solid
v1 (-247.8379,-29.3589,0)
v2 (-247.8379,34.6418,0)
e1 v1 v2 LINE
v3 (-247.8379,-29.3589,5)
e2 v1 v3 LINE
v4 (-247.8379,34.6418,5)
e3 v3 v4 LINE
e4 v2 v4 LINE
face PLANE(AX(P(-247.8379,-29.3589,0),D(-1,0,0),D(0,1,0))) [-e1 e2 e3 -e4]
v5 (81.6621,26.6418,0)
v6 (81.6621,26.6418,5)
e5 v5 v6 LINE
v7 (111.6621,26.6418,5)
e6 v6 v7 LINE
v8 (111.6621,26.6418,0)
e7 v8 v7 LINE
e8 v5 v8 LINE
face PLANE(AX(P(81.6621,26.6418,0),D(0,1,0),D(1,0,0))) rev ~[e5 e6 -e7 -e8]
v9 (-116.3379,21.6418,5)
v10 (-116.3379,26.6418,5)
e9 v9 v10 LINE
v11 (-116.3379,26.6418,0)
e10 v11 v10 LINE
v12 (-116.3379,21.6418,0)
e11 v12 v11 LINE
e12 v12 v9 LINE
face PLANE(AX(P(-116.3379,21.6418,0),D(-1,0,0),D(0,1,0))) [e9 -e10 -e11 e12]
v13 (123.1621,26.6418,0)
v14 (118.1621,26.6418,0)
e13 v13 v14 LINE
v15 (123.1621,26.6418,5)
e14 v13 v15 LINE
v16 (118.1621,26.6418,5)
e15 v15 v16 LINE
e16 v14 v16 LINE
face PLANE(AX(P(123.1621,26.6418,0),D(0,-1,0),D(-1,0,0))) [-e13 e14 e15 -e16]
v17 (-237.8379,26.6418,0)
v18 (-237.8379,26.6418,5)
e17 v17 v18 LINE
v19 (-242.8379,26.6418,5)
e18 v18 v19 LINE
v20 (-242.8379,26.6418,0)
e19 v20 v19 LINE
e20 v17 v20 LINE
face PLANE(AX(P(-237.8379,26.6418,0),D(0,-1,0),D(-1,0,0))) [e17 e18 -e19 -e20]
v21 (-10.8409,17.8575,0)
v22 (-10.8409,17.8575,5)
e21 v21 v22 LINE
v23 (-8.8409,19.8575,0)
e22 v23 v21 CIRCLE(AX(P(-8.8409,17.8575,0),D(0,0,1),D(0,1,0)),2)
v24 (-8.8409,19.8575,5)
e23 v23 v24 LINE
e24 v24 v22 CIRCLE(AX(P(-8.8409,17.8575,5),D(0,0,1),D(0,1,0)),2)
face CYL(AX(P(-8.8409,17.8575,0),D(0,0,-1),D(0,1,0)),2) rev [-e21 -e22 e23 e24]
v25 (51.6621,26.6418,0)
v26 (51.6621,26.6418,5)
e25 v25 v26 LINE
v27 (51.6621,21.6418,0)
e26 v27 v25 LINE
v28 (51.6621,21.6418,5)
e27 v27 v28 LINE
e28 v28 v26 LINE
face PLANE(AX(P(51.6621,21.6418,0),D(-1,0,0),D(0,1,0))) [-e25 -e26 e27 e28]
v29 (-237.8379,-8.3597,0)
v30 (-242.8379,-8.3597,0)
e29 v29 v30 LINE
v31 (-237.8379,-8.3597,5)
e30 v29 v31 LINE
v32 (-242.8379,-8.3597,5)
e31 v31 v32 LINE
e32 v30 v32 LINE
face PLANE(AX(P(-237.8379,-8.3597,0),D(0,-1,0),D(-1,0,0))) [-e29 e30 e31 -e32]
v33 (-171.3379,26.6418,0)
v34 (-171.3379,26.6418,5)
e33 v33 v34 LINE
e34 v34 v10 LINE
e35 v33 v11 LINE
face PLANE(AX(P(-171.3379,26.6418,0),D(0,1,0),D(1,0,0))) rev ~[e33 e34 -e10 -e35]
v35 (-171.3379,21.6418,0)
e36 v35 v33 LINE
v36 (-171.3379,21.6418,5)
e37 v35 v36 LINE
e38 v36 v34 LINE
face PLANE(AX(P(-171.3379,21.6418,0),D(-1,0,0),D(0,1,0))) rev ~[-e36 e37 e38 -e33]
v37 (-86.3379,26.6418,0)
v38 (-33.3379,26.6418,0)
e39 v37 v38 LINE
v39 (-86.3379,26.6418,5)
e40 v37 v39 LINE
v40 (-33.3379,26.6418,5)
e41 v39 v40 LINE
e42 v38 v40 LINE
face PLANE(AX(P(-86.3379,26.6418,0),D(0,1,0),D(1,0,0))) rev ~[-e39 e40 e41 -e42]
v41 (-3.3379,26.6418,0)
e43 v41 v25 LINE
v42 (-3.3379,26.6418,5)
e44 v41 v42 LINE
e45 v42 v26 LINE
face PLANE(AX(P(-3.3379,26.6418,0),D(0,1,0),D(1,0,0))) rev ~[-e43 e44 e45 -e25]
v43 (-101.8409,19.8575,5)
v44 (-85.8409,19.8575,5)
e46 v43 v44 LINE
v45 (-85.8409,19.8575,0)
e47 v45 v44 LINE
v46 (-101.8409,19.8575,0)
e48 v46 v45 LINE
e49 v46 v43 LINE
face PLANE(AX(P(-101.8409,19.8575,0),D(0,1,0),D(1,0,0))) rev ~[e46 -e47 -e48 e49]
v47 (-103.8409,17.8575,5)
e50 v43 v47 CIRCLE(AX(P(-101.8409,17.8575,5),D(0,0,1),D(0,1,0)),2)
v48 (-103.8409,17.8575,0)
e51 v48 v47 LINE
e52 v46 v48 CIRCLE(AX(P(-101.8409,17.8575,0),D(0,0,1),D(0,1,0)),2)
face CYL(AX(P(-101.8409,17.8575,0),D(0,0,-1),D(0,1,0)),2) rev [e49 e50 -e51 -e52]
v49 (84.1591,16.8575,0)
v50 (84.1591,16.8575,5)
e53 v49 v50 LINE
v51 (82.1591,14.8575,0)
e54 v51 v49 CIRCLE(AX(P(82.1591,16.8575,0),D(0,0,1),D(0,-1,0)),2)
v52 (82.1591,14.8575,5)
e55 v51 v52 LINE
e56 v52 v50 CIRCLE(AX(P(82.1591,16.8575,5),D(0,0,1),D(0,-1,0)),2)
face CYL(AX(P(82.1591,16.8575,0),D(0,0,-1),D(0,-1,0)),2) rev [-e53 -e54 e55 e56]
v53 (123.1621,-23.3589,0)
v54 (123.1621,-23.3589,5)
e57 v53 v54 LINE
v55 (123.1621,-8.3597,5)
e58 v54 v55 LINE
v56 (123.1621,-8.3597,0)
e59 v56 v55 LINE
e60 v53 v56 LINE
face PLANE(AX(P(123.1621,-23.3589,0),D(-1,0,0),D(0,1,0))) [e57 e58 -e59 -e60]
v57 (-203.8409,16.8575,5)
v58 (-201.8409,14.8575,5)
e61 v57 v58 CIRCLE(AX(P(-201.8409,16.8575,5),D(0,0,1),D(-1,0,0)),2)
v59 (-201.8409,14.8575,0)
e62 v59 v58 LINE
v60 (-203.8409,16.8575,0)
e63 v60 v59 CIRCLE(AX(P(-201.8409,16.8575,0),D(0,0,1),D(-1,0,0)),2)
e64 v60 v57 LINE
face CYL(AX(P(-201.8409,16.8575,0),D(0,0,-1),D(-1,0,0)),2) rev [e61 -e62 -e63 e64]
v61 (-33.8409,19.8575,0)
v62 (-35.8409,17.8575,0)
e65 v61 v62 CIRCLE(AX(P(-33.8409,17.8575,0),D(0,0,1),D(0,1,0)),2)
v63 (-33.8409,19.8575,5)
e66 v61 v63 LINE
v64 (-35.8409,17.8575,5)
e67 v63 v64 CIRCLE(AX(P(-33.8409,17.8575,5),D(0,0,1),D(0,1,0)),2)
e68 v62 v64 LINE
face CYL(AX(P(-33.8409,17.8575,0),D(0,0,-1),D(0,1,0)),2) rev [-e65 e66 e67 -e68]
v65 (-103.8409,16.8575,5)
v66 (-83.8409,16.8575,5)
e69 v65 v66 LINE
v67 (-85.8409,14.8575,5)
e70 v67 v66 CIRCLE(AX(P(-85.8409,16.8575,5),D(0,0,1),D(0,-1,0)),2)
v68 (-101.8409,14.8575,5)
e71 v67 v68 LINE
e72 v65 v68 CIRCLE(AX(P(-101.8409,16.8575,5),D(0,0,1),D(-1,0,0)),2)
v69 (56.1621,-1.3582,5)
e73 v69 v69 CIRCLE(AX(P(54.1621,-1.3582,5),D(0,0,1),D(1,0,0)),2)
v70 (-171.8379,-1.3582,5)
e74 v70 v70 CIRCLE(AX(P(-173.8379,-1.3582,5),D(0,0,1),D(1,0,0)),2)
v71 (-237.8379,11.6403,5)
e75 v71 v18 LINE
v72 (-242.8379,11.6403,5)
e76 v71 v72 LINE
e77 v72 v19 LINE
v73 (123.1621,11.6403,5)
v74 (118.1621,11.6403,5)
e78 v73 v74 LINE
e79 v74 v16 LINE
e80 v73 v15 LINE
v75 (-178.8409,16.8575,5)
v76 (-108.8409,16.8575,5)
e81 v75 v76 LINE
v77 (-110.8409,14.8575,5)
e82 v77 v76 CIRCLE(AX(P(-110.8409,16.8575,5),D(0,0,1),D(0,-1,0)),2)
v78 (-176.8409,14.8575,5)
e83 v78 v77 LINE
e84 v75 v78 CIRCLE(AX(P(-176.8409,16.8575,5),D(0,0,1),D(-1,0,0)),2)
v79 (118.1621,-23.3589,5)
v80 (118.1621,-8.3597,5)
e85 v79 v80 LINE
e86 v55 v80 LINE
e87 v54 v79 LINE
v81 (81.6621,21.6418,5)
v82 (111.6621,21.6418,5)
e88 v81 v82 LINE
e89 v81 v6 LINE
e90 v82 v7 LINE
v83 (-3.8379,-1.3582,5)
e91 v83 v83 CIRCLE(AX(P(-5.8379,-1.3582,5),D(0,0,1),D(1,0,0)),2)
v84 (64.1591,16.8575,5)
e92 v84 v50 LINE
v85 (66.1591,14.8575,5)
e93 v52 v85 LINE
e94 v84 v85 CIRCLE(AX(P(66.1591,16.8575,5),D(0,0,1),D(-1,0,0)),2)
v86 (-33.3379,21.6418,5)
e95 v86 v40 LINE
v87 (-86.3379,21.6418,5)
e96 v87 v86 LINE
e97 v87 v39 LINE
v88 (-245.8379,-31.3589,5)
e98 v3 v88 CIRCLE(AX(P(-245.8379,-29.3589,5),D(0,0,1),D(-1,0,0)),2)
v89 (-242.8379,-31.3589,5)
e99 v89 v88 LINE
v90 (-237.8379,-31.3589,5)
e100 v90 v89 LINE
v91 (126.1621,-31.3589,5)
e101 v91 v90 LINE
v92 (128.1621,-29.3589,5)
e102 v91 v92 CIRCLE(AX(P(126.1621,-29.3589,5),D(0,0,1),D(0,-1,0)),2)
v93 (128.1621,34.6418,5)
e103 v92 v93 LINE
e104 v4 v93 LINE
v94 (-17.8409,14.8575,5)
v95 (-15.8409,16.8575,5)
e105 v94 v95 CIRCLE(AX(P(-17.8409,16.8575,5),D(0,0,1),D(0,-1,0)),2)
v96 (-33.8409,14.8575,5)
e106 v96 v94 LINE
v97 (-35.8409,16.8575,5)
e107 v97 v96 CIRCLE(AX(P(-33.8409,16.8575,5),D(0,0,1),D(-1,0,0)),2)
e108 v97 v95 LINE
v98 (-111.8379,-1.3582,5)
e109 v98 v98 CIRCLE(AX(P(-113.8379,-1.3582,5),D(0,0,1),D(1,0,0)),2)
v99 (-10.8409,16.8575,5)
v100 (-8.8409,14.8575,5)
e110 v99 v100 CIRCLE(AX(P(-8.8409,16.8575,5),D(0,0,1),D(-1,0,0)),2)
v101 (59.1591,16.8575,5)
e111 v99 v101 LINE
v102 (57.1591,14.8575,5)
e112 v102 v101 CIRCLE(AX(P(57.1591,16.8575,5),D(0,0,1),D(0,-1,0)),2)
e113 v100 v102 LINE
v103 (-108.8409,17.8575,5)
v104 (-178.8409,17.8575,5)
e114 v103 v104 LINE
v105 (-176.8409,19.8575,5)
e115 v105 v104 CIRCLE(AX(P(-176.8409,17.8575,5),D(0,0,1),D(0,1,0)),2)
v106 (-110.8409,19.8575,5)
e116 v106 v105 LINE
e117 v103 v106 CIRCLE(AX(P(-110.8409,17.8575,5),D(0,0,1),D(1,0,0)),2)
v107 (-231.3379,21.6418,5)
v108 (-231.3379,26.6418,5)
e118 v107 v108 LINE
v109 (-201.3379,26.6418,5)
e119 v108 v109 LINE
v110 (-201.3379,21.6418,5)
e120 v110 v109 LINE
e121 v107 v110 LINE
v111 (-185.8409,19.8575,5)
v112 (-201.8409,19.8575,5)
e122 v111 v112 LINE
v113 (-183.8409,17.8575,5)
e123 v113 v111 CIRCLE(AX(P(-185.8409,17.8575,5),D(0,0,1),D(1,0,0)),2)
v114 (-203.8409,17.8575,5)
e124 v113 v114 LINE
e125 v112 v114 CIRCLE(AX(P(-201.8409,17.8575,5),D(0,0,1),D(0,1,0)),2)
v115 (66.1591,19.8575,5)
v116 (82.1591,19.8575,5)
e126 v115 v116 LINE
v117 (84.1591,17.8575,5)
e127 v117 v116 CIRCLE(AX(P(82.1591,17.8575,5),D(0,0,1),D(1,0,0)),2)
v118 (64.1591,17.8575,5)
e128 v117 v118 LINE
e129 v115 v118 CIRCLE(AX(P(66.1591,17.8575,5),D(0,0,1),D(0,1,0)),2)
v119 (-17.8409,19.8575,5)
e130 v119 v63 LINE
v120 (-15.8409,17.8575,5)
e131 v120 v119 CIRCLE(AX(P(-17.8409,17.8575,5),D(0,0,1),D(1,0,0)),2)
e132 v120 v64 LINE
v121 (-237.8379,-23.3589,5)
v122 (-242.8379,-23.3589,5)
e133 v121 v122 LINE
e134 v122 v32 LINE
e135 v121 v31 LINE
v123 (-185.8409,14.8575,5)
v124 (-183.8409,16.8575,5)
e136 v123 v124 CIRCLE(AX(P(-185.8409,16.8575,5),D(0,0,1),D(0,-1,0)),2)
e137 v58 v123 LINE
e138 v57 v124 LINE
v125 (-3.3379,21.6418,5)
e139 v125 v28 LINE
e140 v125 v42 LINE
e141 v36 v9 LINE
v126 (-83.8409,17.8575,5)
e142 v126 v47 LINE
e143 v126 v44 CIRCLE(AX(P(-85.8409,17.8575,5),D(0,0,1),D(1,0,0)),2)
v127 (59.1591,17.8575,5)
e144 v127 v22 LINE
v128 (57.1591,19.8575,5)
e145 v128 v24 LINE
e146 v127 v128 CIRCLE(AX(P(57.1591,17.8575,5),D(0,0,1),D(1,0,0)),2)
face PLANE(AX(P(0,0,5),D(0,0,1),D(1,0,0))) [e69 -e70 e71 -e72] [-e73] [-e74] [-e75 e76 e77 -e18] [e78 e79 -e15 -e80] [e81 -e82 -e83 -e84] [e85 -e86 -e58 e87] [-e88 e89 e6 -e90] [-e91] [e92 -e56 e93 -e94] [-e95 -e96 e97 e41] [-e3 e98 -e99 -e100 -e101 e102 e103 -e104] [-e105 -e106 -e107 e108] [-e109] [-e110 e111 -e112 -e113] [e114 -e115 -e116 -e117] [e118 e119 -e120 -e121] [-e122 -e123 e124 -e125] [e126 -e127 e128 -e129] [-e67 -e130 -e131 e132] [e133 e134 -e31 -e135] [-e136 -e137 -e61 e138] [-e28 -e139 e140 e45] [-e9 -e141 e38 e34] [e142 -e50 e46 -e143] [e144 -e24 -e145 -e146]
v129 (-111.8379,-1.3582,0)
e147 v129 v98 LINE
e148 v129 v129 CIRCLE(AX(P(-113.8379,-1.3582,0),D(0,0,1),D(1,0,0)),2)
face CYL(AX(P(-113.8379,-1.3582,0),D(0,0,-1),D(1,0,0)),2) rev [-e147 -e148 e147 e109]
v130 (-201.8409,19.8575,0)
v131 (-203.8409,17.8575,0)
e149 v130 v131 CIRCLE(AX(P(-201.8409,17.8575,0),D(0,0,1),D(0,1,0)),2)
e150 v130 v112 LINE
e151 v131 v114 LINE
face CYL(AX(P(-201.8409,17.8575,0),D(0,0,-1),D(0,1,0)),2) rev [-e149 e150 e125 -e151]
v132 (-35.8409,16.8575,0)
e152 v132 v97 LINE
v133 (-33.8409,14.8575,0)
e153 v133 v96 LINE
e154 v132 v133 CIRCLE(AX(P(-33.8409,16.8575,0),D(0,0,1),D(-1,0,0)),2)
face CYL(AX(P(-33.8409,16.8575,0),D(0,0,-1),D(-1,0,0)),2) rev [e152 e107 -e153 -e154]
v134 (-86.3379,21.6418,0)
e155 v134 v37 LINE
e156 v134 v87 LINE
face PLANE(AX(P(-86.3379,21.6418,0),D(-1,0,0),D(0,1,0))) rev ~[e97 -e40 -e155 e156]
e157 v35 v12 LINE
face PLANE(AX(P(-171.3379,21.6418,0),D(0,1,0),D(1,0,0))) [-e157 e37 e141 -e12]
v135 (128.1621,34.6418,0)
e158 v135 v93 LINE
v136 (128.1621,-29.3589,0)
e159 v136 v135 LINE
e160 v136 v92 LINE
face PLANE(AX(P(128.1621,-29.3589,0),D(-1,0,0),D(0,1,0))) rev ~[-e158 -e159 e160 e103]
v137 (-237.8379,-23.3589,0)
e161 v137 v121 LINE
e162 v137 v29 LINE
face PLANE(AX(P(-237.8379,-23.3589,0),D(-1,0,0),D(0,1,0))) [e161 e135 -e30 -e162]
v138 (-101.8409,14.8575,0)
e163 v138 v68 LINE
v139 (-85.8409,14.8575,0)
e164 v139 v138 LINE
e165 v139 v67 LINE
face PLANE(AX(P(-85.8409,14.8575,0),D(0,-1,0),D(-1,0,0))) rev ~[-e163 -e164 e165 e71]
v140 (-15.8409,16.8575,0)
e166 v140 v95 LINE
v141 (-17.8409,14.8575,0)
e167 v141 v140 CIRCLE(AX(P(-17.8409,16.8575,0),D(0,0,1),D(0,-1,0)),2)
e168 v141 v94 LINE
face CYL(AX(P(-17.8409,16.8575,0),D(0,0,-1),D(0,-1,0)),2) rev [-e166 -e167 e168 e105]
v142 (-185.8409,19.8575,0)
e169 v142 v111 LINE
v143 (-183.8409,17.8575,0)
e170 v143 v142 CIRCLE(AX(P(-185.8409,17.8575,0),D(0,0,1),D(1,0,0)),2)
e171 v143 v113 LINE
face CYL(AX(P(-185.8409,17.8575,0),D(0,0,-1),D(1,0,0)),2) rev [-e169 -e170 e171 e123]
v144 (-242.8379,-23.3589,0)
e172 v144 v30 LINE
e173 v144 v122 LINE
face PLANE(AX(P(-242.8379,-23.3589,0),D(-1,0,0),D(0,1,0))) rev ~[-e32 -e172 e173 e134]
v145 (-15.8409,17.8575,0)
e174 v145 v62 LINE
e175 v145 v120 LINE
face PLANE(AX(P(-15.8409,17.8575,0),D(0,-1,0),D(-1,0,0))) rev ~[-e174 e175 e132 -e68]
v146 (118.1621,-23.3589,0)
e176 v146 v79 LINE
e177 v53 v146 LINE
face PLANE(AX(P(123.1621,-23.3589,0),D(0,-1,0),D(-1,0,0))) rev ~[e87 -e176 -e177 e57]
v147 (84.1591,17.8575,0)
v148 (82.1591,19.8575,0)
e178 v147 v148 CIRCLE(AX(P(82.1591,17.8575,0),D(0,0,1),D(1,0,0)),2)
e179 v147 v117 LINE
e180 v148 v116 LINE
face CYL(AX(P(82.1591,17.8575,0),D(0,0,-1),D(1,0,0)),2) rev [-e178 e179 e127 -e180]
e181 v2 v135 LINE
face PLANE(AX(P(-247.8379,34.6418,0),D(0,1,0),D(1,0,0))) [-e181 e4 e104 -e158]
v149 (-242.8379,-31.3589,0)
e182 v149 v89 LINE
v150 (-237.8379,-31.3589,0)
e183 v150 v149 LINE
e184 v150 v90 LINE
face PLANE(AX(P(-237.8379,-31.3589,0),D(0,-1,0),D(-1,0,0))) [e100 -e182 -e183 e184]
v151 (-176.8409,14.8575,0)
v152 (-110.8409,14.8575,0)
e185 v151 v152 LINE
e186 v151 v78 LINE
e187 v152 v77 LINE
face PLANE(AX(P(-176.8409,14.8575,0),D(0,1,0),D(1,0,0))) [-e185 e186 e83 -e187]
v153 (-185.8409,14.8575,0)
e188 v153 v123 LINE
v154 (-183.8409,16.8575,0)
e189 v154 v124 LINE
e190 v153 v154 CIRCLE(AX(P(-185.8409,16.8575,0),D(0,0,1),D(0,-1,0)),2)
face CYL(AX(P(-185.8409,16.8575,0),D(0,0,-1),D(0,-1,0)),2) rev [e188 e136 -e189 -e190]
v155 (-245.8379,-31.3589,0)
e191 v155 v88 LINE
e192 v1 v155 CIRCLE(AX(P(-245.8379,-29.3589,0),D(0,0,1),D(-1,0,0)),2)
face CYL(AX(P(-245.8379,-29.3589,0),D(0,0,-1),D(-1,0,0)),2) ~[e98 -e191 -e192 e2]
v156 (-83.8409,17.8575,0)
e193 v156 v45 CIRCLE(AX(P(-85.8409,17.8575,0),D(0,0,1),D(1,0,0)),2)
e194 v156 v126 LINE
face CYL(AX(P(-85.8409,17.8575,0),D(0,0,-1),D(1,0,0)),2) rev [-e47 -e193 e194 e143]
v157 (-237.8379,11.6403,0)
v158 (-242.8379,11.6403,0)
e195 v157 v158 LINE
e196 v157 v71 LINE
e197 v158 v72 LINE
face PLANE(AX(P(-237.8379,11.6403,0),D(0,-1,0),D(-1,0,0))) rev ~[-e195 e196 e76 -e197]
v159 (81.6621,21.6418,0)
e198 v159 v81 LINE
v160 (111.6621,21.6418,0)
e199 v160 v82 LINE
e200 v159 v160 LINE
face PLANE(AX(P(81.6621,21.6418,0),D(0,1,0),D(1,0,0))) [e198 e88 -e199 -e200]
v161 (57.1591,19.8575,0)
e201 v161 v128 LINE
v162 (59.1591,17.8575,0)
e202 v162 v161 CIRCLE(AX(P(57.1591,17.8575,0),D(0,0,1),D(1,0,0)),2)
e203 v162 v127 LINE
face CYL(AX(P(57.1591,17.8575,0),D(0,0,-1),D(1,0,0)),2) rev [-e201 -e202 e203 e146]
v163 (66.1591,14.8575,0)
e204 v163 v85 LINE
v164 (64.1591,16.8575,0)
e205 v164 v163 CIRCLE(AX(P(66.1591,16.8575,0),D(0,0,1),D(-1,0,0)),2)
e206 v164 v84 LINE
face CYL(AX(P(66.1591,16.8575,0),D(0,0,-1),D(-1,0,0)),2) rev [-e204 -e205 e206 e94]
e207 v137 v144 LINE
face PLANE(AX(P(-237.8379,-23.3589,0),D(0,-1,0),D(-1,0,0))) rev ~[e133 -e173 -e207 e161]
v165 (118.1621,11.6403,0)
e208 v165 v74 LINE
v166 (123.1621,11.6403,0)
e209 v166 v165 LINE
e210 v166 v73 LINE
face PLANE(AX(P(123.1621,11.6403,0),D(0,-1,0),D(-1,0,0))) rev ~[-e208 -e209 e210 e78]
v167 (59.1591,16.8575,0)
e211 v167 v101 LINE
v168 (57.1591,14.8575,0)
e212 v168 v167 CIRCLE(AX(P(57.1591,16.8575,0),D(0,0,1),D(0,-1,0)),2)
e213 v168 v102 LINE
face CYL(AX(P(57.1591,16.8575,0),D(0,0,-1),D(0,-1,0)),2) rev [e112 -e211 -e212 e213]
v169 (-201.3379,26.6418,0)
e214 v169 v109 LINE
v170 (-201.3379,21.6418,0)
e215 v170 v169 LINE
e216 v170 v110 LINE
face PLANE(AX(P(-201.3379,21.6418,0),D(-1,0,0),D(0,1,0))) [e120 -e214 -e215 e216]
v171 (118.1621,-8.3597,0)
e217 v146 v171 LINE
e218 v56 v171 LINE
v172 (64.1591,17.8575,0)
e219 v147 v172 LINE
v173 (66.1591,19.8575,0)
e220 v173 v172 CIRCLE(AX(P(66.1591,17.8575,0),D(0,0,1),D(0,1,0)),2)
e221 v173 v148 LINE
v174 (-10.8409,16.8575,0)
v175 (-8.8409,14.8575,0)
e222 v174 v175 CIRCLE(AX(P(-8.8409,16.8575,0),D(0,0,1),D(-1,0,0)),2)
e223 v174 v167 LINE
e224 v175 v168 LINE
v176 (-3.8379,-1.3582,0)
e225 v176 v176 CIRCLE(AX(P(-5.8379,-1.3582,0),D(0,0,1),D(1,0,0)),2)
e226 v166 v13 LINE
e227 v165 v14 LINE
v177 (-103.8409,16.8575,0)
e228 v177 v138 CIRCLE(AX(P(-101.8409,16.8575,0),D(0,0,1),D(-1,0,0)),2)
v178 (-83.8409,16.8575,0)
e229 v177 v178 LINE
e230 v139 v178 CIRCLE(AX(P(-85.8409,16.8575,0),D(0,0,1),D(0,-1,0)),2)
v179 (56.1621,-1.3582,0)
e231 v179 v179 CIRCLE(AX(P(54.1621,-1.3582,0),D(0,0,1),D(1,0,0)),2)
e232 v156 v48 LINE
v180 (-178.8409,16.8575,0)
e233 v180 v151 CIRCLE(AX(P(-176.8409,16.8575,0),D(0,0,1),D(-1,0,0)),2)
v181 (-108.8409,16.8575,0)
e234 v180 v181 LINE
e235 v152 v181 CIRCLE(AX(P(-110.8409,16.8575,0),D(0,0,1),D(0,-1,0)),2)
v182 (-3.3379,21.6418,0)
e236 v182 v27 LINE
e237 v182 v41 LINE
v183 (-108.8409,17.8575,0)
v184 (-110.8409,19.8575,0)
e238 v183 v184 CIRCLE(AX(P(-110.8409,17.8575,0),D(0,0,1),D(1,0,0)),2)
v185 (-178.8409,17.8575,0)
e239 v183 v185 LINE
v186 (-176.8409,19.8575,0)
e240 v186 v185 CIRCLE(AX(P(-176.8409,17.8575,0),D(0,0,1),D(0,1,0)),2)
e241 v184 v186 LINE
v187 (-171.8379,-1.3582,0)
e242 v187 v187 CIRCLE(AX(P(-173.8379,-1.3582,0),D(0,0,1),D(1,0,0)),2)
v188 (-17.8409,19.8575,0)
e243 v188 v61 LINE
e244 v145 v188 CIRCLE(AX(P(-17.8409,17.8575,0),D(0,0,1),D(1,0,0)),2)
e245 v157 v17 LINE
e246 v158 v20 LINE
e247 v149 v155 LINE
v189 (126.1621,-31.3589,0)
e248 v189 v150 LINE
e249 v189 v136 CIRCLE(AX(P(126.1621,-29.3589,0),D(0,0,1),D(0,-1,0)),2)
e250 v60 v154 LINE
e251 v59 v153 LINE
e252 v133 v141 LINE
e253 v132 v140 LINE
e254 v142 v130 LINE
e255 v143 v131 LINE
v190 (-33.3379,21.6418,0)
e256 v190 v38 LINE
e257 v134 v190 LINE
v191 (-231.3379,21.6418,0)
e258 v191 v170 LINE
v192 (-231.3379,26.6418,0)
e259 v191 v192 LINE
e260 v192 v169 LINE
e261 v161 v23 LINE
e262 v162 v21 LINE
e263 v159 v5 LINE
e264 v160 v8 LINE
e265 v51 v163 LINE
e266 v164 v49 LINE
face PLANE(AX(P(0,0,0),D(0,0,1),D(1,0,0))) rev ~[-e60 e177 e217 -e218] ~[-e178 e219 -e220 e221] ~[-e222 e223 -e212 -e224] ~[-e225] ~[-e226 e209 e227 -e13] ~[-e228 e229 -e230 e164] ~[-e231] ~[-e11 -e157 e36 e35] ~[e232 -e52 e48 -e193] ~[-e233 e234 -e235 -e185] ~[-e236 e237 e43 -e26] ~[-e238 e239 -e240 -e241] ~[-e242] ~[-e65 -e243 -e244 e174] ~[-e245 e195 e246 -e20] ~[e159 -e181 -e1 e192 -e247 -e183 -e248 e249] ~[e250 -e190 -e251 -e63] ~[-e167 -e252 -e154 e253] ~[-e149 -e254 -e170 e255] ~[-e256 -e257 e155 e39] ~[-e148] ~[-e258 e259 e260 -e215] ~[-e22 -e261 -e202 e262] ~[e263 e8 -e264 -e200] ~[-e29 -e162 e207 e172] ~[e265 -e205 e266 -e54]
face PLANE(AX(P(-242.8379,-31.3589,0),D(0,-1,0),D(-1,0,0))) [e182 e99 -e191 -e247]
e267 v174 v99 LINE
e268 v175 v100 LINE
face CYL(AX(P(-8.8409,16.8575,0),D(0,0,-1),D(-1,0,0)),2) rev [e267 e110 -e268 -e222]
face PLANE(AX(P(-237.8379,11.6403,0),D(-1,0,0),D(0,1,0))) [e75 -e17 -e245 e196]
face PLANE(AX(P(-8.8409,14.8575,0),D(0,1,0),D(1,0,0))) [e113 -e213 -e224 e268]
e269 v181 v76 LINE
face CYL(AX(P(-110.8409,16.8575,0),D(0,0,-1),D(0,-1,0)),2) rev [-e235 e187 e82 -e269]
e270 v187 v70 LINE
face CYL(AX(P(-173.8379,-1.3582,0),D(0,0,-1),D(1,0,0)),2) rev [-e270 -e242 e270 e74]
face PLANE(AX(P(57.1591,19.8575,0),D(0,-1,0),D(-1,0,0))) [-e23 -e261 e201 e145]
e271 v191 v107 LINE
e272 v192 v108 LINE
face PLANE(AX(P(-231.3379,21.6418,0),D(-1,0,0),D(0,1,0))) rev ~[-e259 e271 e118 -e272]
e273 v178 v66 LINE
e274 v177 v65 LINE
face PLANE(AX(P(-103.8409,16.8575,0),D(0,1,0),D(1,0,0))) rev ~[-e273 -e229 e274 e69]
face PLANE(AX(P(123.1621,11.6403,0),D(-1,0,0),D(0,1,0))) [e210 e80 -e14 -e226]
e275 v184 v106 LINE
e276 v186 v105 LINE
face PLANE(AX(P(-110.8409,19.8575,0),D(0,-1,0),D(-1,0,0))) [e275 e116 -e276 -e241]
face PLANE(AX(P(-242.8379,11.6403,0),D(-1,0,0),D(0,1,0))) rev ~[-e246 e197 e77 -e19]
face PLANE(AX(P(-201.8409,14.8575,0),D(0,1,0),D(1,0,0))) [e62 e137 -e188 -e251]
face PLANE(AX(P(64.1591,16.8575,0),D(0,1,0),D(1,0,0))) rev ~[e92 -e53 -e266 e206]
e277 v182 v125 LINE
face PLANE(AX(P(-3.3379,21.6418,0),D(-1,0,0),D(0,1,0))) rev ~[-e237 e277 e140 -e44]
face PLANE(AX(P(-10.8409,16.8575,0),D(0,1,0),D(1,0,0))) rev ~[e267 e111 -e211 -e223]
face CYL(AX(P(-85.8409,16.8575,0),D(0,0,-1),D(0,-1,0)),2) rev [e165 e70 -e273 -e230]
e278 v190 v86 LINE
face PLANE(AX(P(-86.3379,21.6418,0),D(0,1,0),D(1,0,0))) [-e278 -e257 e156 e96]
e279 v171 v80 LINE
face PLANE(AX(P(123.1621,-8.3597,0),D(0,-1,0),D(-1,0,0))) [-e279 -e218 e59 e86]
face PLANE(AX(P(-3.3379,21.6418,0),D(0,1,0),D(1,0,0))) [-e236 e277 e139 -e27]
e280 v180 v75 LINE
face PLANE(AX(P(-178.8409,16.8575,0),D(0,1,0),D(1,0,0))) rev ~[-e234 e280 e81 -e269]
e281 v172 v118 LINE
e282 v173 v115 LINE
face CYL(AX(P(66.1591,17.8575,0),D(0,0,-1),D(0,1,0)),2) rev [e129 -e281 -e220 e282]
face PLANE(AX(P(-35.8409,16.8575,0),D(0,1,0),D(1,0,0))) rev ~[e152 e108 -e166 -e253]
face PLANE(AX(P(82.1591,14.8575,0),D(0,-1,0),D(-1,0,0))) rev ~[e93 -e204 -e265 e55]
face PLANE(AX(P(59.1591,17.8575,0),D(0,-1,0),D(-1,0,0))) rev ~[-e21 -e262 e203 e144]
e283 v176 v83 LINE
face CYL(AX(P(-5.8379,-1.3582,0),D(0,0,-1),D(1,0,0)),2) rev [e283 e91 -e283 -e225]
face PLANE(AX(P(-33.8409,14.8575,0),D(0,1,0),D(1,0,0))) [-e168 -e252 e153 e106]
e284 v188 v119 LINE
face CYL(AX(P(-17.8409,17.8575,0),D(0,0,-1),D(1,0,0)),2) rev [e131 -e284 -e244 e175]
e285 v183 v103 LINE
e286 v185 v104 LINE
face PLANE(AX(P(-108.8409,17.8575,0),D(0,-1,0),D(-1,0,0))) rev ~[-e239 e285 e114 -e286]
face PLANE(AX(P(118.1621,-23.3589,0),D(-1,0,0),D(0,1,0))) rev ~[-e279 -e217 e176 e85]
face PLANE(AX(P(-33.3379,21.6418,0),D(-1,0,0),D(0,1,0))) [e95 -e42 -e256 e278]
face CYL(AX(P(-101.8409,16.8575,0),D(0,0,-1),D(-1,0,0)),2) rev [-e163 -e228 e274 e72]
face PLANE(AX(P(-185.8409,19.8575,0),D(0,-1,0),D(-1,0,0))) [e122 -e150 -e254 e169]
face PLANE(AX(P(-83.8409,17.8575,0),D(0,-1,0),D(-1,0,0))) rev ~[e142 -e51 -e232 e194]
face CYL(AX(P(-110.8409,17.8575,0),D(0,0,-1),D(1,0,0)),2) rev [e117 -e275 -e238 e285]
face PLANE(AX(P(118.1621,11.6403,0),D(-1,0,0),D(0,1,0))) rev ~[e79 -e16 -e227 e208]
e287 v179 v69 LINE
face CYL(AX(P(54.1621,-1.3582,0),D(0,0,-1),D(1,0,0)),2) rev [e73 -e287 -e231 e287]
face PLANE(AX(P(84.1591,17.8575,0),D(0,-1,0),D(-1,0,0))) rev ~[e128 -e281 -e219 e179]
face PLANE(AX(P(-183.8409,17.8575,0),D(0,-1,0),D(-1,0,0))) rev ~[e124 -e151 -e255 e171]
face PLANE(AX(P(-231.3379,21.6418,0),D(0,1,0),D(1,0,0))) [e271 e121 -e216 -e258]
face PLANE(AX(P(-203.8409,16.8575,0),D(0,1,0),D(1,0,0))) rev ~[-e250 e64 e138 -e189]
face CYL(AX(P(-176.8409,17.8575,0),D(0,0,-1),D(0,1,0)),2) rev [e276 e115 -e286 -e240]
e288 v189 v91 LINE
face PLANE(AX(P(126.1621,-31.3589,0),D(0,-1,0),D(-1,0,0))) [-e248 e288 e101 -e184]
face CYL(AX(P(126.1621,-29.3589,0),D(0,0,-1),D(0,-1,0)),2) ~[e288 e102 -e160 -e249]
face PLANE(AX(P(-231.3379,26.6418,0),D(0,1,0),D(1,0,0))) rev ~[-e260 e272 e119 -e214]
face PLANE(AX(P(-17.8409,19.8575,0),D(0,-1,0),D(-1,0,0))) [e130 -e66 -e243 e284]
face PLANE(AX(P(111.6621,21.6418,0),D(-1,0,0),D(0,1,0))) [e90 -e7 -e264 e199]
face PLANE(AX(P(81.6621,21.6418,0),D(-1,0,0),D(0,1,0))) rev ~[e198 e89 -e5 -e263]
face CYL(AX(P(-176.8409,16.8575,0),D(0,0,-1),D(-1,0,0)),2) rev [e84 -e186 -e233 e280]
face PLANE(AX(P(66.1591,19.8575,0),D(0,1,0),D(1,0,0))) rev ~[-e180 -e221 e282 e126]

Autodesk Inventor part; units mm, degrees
ref_plane "YZ Plane" through (0, 0, 0) normal (1, 0, 0) x (0, 1, 0)
ref_plane "XZ Plane" through (0, 0, 0) normal (0, 1, 0) x (-1, 0, 0)
ref_plane "XY Plane" through (0, 0, 0) normal (0, 0, 1) x (1, 0, 0)
sketch "Sketch1" plane through (0, 0, 0) normal (0, 0, 1) x (1, 0, 0)
  circle A0 centre (-5.8379, -1.3582) radius 2
  circle A1 centre (54.1621, -1.3582) radius 2
  line L0 (81.6621, 21.6418) -> (111.6621, 21.6418) projected
  line L1 (111.6621, 21.6418) -> (111.6621, 26.6418) projected
  line L2 (81.6621, 26.6418) -> (111.6621, 26.6418) projected
  line L3 (81.6621, 21.6418) -> (81.6621, 26.6418) projected
  line L4 (-3.3379, 21.6418) -> (51.6621, 21.6418) projected
  line L5 (51.6621, 21.6418) -> (51.6621, 26.6418) projected
  line L6 (-3.3379, 26.6418) -> (51.6621, 26.6418) projected
  line L7 (-3.3379, 21.6418) -> (-3.3379, 26.6418) projected
  line L8 (-86.3379, 21.6418) -> (-33.3379, 21.6418) projected
  line L9 (-33.3379, 21.6418) -> (-33.3379, 26.6418) projected
  line L10 (-86.3379, 26.6418) -> (-33.3379, 26.6418) projected
  line L11 (-86.3379, 21.6418) -> (-86.3379, 26.6418) projected
  line L12 (-171.3379, 21.6418) -> (-116.3379, 21.6418) projected
  line L13 (-116.3379, 21.6418) -> (-116.3379, 26.6418) projected
  line L14 (-171.3379, 26.6418) -> (-116.3379, 26.6418) projected
  line L15 (-171.3379, 21.6418) -> (-171.3379, 26.6418) projected
  line L16 (-231.3379, 21.6418) -> (-201.3379, 21.6418) projected
  line L17 (-201.3379, 21.6418) -> (-201.3379, 26.6418) projected
  line L18 (-231.3379, 26.6418) -> (-201.3379, 26.6418) projected
  line L19 (-231.3379, 21.6418) -> (-231.3379, 26.6418) projected
  line L20 (126.1621, -31.3589) -> (-245.8379, -31.3589)
  line L21 (-247.8379, -29.3589) -> (-247.8379, 34.6418)
  line L22 (128.1621, -29.3589) -> (128.1621, 34.6418)
  line L23 (-247.8379, 34.6418) -> (128.1621, 34.6418)
  arc A2 (-247.8379, -29.3589) -> (-245.8379, -31.3589) centre (-245.8379, -29.3589) ccw
  arc A3 (126.1621, -31.3589) -> (128.1621, -29.3589) centre (126.1621, -29.3589) ccw
  line L24 (123.1621, -23.3589) -> (123.1621, -8.3597) projected
  line L25 (123.1621, -8.3597) -> (118.1621, -8.3597) projected
  line L26 (118.1621, -23.3589) -> (118.1621, -8.3597) projected
  line L27 (123.1621, -23.3589) -> (118.1621, -23.3589) projected
  line L28 (123.1621, 11.6403) -> (123.1621, 26.6418) projected
  line L29 (123.1621, 26.6418) -> (118.1621, 26.6418) projected
  line L30 (118.1621, 11.6403) -> (118.1621, 26.6418) projected
  line L31 (123.1621, 11.6403) -> (118.1621, 11.6403) projected
  line L32 (-237.8379, -23.3589) -> (-237.8379, -8.3597) projected
  line L33 (-237.8379, -8.3597) -> (-242.8379, -8.3597) projected
  line L34 (-242.8379, -23.3589) -> (-242.8379, -8.3597) projected
  line L35 (-237.8379, -23.3589) -> (-242.8379, -23.3589) projected
  line L36 (-237.8379, 11.6403) -> (-237.8379, 26.6418) projected
  line L37 (-237.8379, 26.6418) -> (-242.8379, 26.6418) projected
  line L38 (-242.8379, 11.6403) -> (-242.8379, 26.6418) projected
  line L39 (-237.8379, 11.6403) -> (-242.8379, 11.6403) projected
  line L40 (-201.8409, 14.8575) -> (-185.8409, 14.8575)
  line L41 (-185.8409, 19.8575) -> (-201.8409, 19.8575)
  line L42 (-85.8409, 14.8575) -> (-101.8409, 14.8575)
  line L43 (-101.8409, 19.8575) -> (-85.8409, 19.8575)
  line L44 (-176.8409, 14.8575) -> (-110.8409, 14.8575)
  line L45 (-110.8409, 19.8575) -> (-176.8409, 19.8575)
  arc A4 (-178.8409, 16.8575) -> (-176.8409, 14.8575) centre (-176.8409, 16.8575) ccw
  arc A5 (-108.8409, 17.8575) -> (-110.8409, 19.8575) centre (-110.8409, 17.8575) ccw
  arc A6 (-110.8409, 14.8575) -> (-108.8409, 16.8575) centre (-110.8409, 16.8575) ccw
  arc A7 (-103.8409, 16.8575) -> (-101.8409, 14.8575) centre (-101.8409, 16.8575) ccw
  arc A8 (-101.8409, 19.8575) -> (-103.8409, 17.8575) centre (-101.8409, 17.8575) ccw
  arc A9 (-83.8409, 17.8575) -> (-85.8409, 19.8575) centre (-85.8409, 17.8575) ccw
  arc A10 (-85.8409, 14.8575) -> (-83.8409, 16.8575) centre (-85.8409, 16.8575) ccw
  arc A11 (-183.8409, 17.8575) -> (-185.8409, 19.8575) centre (-185.8409, 17.8575) ccw
  arc A12 (-185.8409, 14.8575) -> (-183.8409, 16.8575) centre (-185.8409, 16.8575) ccw
  arc A13 (-203.8409, 16.8575) -> (-201.8409, 14.8575) centre (-201.8409, 16.8575) ccw
  arc A14 (-201.8409, 19.8575) -> (-203.8409, 17.8575) centre (-201.8409, 17.8575) ccw
  arc A15 (-176.8409, 19.8575) -> (-178.8409, 17.8575) centre (-176.8409, 17.8575) ccw
  line L46 (-203.8409, 16.8575) -> (-183.8409, 16.8575)
  line L47 (-183.8409, 17.8575) -> (-203.8409, 17.8575)
  line L48 (-178.8409, 16.8575) -> (-108.8409, 16.8575)
  line L49 (-108.8409, 17.8575) -> (-178.8409, 17.8575)
  line L50 (-103.8409, 16.8575) -> (-83.8409, 16.8575)
  line L51 (-83.8409, 17.8575) -> (-103.8409, 17.8575)
  line L52 (57.1591, 19.8575) -> (-8.8409, 19.8575)
  line L53 (-8.8409, 14.8575) -> (57.1591, 14.8575)
  line L54 (59.1591, 17.8575) -> (-10.8409, 17.8575)
  line L55 (-10.8409, 16.8575) -> (59.1591, 16.8575)
  arc A16 (59.1591, 17.8575) -> (57.1591, 19.8575) centre (57.1591, 17.8575) ccw
  arc A17 (57.1591, 14.8575) -> (59.1591, 16.8575) centre (57.1591, 16.8575) ccw
  arc A18 (64.1591, 16.8575) -> (66.1591, 14.8575) centre (66.1591, 16.8575) ccw
  arc A19 (66.1591, 19.8575) -> (64.1591, 17.8575) centre (66.1591, 17.8575) ccw
  line L56 (82.1591, 14.8575) -> (66.1591, 14.8575)
  line L57 (66.1591, 19.8575) -> (82.1591, 19.8575)
  arc A20 (82.1591, 14.8575) -> (84.1591, 16.8575) centre (82.1591, 16.8575) ccw
  arc A21 (84.1591, 17.8575) -> (82.1591, 19.8575) centre (82.1591, 17.8575) ccw
  line L58 (-33.8409, 14.8575) -> (-17.8409, 14.8575)
  line L59 (-17.8409, 19.8575) -> (-33.8409, 19.8575)
  arc A22 (-10.8409, 16.8575) -> (-8.8409, 14.8575) centre (-8.8409, 16.8575) ccw
  arc A23 (-8.8409, 19.8575) -> (-10.8409, 17.8575) centre (-8.8409, 17.8575) ccw
  arc A24 (-17.8409, 14.8575) -> (-15.8409, 16.8575) centre (-17.8409, 16.8575) ccw
  arc A25 (-15.8409, 17.8575) -> (-17.8409, 19.8575) centre (-17.8409, 17.8575) ccw
  arc A26 (-33.8409, 19.8575) -> (-35.8409, 17.8575) centre (-33.8409, 17.8575) ccw
  line L60 (-35.8409, 16.8575) -> (-15.8409, 16.8575)
  line L61 (-15.8409, 17.8575) -> (-35.8409, 17.8575)
  arc A27 (-35.8409, 16.8575) -> (-33.8409, 14.8575) centre (-33.8409, 16.8575) ccw
  line L62 (64.1591, 16.8575) -> (84.1591, 16.8575)
  line L63 (84.1591, 17.8575) -> (64.1591, 17.8575)
  circle A28 centre (-173.8379, -1.3582) radius 2
  circle A29 centre (-113.8379, -1.3582) radius 2
  line L64 (-237.8379, -31.3589) -> (-242.8379, -31.3589) projected
  point P0 (24.1621, -1.3582)
  point P1 (-203.8409, 14.8575)
  point P2 (-203.8409, 19.8575)
  point P3 (-35.8409, 14.8575)
  point P4 (-35.8409, 19.8575)
  point P5 (-143.8379, -1.3582)
  dimension "d36" = 4
  dimension "d37" = 4
  dimension "d40" = 30
  dimension "d41" = 30
  dimension "d48" = 2
  dimension "d53" = 2
  dimension "d55" = 8
  dimension "d56" = 5
  dimension "d57" = 2
  dimension "d58" = 5
  dimension "d59" = 2
  dimension "d60" = 376
  dimension "d63" = 28
  dimension "d64" = 28
  dimension "d65" = 28
  dimension "d66" = 4
  dimension "d67" = 4
  dimension "d68" = 30
  dimension "d69" = 30
  dimension "d70" = 74
  dimension "d71" = 74
  dimension "d72" = 28
  dimension "d73" = 28
  dimension "d74" = 2.5
  dimension "d75" = 2.5
  dimension "d76" = 2.5
  dimension "d77" = 0
extrude "Extrusion1" add sketch "Sketch1" along normal blind 5
properties part number "case bottom front" material "Nylon, molybdenum disulphide"
